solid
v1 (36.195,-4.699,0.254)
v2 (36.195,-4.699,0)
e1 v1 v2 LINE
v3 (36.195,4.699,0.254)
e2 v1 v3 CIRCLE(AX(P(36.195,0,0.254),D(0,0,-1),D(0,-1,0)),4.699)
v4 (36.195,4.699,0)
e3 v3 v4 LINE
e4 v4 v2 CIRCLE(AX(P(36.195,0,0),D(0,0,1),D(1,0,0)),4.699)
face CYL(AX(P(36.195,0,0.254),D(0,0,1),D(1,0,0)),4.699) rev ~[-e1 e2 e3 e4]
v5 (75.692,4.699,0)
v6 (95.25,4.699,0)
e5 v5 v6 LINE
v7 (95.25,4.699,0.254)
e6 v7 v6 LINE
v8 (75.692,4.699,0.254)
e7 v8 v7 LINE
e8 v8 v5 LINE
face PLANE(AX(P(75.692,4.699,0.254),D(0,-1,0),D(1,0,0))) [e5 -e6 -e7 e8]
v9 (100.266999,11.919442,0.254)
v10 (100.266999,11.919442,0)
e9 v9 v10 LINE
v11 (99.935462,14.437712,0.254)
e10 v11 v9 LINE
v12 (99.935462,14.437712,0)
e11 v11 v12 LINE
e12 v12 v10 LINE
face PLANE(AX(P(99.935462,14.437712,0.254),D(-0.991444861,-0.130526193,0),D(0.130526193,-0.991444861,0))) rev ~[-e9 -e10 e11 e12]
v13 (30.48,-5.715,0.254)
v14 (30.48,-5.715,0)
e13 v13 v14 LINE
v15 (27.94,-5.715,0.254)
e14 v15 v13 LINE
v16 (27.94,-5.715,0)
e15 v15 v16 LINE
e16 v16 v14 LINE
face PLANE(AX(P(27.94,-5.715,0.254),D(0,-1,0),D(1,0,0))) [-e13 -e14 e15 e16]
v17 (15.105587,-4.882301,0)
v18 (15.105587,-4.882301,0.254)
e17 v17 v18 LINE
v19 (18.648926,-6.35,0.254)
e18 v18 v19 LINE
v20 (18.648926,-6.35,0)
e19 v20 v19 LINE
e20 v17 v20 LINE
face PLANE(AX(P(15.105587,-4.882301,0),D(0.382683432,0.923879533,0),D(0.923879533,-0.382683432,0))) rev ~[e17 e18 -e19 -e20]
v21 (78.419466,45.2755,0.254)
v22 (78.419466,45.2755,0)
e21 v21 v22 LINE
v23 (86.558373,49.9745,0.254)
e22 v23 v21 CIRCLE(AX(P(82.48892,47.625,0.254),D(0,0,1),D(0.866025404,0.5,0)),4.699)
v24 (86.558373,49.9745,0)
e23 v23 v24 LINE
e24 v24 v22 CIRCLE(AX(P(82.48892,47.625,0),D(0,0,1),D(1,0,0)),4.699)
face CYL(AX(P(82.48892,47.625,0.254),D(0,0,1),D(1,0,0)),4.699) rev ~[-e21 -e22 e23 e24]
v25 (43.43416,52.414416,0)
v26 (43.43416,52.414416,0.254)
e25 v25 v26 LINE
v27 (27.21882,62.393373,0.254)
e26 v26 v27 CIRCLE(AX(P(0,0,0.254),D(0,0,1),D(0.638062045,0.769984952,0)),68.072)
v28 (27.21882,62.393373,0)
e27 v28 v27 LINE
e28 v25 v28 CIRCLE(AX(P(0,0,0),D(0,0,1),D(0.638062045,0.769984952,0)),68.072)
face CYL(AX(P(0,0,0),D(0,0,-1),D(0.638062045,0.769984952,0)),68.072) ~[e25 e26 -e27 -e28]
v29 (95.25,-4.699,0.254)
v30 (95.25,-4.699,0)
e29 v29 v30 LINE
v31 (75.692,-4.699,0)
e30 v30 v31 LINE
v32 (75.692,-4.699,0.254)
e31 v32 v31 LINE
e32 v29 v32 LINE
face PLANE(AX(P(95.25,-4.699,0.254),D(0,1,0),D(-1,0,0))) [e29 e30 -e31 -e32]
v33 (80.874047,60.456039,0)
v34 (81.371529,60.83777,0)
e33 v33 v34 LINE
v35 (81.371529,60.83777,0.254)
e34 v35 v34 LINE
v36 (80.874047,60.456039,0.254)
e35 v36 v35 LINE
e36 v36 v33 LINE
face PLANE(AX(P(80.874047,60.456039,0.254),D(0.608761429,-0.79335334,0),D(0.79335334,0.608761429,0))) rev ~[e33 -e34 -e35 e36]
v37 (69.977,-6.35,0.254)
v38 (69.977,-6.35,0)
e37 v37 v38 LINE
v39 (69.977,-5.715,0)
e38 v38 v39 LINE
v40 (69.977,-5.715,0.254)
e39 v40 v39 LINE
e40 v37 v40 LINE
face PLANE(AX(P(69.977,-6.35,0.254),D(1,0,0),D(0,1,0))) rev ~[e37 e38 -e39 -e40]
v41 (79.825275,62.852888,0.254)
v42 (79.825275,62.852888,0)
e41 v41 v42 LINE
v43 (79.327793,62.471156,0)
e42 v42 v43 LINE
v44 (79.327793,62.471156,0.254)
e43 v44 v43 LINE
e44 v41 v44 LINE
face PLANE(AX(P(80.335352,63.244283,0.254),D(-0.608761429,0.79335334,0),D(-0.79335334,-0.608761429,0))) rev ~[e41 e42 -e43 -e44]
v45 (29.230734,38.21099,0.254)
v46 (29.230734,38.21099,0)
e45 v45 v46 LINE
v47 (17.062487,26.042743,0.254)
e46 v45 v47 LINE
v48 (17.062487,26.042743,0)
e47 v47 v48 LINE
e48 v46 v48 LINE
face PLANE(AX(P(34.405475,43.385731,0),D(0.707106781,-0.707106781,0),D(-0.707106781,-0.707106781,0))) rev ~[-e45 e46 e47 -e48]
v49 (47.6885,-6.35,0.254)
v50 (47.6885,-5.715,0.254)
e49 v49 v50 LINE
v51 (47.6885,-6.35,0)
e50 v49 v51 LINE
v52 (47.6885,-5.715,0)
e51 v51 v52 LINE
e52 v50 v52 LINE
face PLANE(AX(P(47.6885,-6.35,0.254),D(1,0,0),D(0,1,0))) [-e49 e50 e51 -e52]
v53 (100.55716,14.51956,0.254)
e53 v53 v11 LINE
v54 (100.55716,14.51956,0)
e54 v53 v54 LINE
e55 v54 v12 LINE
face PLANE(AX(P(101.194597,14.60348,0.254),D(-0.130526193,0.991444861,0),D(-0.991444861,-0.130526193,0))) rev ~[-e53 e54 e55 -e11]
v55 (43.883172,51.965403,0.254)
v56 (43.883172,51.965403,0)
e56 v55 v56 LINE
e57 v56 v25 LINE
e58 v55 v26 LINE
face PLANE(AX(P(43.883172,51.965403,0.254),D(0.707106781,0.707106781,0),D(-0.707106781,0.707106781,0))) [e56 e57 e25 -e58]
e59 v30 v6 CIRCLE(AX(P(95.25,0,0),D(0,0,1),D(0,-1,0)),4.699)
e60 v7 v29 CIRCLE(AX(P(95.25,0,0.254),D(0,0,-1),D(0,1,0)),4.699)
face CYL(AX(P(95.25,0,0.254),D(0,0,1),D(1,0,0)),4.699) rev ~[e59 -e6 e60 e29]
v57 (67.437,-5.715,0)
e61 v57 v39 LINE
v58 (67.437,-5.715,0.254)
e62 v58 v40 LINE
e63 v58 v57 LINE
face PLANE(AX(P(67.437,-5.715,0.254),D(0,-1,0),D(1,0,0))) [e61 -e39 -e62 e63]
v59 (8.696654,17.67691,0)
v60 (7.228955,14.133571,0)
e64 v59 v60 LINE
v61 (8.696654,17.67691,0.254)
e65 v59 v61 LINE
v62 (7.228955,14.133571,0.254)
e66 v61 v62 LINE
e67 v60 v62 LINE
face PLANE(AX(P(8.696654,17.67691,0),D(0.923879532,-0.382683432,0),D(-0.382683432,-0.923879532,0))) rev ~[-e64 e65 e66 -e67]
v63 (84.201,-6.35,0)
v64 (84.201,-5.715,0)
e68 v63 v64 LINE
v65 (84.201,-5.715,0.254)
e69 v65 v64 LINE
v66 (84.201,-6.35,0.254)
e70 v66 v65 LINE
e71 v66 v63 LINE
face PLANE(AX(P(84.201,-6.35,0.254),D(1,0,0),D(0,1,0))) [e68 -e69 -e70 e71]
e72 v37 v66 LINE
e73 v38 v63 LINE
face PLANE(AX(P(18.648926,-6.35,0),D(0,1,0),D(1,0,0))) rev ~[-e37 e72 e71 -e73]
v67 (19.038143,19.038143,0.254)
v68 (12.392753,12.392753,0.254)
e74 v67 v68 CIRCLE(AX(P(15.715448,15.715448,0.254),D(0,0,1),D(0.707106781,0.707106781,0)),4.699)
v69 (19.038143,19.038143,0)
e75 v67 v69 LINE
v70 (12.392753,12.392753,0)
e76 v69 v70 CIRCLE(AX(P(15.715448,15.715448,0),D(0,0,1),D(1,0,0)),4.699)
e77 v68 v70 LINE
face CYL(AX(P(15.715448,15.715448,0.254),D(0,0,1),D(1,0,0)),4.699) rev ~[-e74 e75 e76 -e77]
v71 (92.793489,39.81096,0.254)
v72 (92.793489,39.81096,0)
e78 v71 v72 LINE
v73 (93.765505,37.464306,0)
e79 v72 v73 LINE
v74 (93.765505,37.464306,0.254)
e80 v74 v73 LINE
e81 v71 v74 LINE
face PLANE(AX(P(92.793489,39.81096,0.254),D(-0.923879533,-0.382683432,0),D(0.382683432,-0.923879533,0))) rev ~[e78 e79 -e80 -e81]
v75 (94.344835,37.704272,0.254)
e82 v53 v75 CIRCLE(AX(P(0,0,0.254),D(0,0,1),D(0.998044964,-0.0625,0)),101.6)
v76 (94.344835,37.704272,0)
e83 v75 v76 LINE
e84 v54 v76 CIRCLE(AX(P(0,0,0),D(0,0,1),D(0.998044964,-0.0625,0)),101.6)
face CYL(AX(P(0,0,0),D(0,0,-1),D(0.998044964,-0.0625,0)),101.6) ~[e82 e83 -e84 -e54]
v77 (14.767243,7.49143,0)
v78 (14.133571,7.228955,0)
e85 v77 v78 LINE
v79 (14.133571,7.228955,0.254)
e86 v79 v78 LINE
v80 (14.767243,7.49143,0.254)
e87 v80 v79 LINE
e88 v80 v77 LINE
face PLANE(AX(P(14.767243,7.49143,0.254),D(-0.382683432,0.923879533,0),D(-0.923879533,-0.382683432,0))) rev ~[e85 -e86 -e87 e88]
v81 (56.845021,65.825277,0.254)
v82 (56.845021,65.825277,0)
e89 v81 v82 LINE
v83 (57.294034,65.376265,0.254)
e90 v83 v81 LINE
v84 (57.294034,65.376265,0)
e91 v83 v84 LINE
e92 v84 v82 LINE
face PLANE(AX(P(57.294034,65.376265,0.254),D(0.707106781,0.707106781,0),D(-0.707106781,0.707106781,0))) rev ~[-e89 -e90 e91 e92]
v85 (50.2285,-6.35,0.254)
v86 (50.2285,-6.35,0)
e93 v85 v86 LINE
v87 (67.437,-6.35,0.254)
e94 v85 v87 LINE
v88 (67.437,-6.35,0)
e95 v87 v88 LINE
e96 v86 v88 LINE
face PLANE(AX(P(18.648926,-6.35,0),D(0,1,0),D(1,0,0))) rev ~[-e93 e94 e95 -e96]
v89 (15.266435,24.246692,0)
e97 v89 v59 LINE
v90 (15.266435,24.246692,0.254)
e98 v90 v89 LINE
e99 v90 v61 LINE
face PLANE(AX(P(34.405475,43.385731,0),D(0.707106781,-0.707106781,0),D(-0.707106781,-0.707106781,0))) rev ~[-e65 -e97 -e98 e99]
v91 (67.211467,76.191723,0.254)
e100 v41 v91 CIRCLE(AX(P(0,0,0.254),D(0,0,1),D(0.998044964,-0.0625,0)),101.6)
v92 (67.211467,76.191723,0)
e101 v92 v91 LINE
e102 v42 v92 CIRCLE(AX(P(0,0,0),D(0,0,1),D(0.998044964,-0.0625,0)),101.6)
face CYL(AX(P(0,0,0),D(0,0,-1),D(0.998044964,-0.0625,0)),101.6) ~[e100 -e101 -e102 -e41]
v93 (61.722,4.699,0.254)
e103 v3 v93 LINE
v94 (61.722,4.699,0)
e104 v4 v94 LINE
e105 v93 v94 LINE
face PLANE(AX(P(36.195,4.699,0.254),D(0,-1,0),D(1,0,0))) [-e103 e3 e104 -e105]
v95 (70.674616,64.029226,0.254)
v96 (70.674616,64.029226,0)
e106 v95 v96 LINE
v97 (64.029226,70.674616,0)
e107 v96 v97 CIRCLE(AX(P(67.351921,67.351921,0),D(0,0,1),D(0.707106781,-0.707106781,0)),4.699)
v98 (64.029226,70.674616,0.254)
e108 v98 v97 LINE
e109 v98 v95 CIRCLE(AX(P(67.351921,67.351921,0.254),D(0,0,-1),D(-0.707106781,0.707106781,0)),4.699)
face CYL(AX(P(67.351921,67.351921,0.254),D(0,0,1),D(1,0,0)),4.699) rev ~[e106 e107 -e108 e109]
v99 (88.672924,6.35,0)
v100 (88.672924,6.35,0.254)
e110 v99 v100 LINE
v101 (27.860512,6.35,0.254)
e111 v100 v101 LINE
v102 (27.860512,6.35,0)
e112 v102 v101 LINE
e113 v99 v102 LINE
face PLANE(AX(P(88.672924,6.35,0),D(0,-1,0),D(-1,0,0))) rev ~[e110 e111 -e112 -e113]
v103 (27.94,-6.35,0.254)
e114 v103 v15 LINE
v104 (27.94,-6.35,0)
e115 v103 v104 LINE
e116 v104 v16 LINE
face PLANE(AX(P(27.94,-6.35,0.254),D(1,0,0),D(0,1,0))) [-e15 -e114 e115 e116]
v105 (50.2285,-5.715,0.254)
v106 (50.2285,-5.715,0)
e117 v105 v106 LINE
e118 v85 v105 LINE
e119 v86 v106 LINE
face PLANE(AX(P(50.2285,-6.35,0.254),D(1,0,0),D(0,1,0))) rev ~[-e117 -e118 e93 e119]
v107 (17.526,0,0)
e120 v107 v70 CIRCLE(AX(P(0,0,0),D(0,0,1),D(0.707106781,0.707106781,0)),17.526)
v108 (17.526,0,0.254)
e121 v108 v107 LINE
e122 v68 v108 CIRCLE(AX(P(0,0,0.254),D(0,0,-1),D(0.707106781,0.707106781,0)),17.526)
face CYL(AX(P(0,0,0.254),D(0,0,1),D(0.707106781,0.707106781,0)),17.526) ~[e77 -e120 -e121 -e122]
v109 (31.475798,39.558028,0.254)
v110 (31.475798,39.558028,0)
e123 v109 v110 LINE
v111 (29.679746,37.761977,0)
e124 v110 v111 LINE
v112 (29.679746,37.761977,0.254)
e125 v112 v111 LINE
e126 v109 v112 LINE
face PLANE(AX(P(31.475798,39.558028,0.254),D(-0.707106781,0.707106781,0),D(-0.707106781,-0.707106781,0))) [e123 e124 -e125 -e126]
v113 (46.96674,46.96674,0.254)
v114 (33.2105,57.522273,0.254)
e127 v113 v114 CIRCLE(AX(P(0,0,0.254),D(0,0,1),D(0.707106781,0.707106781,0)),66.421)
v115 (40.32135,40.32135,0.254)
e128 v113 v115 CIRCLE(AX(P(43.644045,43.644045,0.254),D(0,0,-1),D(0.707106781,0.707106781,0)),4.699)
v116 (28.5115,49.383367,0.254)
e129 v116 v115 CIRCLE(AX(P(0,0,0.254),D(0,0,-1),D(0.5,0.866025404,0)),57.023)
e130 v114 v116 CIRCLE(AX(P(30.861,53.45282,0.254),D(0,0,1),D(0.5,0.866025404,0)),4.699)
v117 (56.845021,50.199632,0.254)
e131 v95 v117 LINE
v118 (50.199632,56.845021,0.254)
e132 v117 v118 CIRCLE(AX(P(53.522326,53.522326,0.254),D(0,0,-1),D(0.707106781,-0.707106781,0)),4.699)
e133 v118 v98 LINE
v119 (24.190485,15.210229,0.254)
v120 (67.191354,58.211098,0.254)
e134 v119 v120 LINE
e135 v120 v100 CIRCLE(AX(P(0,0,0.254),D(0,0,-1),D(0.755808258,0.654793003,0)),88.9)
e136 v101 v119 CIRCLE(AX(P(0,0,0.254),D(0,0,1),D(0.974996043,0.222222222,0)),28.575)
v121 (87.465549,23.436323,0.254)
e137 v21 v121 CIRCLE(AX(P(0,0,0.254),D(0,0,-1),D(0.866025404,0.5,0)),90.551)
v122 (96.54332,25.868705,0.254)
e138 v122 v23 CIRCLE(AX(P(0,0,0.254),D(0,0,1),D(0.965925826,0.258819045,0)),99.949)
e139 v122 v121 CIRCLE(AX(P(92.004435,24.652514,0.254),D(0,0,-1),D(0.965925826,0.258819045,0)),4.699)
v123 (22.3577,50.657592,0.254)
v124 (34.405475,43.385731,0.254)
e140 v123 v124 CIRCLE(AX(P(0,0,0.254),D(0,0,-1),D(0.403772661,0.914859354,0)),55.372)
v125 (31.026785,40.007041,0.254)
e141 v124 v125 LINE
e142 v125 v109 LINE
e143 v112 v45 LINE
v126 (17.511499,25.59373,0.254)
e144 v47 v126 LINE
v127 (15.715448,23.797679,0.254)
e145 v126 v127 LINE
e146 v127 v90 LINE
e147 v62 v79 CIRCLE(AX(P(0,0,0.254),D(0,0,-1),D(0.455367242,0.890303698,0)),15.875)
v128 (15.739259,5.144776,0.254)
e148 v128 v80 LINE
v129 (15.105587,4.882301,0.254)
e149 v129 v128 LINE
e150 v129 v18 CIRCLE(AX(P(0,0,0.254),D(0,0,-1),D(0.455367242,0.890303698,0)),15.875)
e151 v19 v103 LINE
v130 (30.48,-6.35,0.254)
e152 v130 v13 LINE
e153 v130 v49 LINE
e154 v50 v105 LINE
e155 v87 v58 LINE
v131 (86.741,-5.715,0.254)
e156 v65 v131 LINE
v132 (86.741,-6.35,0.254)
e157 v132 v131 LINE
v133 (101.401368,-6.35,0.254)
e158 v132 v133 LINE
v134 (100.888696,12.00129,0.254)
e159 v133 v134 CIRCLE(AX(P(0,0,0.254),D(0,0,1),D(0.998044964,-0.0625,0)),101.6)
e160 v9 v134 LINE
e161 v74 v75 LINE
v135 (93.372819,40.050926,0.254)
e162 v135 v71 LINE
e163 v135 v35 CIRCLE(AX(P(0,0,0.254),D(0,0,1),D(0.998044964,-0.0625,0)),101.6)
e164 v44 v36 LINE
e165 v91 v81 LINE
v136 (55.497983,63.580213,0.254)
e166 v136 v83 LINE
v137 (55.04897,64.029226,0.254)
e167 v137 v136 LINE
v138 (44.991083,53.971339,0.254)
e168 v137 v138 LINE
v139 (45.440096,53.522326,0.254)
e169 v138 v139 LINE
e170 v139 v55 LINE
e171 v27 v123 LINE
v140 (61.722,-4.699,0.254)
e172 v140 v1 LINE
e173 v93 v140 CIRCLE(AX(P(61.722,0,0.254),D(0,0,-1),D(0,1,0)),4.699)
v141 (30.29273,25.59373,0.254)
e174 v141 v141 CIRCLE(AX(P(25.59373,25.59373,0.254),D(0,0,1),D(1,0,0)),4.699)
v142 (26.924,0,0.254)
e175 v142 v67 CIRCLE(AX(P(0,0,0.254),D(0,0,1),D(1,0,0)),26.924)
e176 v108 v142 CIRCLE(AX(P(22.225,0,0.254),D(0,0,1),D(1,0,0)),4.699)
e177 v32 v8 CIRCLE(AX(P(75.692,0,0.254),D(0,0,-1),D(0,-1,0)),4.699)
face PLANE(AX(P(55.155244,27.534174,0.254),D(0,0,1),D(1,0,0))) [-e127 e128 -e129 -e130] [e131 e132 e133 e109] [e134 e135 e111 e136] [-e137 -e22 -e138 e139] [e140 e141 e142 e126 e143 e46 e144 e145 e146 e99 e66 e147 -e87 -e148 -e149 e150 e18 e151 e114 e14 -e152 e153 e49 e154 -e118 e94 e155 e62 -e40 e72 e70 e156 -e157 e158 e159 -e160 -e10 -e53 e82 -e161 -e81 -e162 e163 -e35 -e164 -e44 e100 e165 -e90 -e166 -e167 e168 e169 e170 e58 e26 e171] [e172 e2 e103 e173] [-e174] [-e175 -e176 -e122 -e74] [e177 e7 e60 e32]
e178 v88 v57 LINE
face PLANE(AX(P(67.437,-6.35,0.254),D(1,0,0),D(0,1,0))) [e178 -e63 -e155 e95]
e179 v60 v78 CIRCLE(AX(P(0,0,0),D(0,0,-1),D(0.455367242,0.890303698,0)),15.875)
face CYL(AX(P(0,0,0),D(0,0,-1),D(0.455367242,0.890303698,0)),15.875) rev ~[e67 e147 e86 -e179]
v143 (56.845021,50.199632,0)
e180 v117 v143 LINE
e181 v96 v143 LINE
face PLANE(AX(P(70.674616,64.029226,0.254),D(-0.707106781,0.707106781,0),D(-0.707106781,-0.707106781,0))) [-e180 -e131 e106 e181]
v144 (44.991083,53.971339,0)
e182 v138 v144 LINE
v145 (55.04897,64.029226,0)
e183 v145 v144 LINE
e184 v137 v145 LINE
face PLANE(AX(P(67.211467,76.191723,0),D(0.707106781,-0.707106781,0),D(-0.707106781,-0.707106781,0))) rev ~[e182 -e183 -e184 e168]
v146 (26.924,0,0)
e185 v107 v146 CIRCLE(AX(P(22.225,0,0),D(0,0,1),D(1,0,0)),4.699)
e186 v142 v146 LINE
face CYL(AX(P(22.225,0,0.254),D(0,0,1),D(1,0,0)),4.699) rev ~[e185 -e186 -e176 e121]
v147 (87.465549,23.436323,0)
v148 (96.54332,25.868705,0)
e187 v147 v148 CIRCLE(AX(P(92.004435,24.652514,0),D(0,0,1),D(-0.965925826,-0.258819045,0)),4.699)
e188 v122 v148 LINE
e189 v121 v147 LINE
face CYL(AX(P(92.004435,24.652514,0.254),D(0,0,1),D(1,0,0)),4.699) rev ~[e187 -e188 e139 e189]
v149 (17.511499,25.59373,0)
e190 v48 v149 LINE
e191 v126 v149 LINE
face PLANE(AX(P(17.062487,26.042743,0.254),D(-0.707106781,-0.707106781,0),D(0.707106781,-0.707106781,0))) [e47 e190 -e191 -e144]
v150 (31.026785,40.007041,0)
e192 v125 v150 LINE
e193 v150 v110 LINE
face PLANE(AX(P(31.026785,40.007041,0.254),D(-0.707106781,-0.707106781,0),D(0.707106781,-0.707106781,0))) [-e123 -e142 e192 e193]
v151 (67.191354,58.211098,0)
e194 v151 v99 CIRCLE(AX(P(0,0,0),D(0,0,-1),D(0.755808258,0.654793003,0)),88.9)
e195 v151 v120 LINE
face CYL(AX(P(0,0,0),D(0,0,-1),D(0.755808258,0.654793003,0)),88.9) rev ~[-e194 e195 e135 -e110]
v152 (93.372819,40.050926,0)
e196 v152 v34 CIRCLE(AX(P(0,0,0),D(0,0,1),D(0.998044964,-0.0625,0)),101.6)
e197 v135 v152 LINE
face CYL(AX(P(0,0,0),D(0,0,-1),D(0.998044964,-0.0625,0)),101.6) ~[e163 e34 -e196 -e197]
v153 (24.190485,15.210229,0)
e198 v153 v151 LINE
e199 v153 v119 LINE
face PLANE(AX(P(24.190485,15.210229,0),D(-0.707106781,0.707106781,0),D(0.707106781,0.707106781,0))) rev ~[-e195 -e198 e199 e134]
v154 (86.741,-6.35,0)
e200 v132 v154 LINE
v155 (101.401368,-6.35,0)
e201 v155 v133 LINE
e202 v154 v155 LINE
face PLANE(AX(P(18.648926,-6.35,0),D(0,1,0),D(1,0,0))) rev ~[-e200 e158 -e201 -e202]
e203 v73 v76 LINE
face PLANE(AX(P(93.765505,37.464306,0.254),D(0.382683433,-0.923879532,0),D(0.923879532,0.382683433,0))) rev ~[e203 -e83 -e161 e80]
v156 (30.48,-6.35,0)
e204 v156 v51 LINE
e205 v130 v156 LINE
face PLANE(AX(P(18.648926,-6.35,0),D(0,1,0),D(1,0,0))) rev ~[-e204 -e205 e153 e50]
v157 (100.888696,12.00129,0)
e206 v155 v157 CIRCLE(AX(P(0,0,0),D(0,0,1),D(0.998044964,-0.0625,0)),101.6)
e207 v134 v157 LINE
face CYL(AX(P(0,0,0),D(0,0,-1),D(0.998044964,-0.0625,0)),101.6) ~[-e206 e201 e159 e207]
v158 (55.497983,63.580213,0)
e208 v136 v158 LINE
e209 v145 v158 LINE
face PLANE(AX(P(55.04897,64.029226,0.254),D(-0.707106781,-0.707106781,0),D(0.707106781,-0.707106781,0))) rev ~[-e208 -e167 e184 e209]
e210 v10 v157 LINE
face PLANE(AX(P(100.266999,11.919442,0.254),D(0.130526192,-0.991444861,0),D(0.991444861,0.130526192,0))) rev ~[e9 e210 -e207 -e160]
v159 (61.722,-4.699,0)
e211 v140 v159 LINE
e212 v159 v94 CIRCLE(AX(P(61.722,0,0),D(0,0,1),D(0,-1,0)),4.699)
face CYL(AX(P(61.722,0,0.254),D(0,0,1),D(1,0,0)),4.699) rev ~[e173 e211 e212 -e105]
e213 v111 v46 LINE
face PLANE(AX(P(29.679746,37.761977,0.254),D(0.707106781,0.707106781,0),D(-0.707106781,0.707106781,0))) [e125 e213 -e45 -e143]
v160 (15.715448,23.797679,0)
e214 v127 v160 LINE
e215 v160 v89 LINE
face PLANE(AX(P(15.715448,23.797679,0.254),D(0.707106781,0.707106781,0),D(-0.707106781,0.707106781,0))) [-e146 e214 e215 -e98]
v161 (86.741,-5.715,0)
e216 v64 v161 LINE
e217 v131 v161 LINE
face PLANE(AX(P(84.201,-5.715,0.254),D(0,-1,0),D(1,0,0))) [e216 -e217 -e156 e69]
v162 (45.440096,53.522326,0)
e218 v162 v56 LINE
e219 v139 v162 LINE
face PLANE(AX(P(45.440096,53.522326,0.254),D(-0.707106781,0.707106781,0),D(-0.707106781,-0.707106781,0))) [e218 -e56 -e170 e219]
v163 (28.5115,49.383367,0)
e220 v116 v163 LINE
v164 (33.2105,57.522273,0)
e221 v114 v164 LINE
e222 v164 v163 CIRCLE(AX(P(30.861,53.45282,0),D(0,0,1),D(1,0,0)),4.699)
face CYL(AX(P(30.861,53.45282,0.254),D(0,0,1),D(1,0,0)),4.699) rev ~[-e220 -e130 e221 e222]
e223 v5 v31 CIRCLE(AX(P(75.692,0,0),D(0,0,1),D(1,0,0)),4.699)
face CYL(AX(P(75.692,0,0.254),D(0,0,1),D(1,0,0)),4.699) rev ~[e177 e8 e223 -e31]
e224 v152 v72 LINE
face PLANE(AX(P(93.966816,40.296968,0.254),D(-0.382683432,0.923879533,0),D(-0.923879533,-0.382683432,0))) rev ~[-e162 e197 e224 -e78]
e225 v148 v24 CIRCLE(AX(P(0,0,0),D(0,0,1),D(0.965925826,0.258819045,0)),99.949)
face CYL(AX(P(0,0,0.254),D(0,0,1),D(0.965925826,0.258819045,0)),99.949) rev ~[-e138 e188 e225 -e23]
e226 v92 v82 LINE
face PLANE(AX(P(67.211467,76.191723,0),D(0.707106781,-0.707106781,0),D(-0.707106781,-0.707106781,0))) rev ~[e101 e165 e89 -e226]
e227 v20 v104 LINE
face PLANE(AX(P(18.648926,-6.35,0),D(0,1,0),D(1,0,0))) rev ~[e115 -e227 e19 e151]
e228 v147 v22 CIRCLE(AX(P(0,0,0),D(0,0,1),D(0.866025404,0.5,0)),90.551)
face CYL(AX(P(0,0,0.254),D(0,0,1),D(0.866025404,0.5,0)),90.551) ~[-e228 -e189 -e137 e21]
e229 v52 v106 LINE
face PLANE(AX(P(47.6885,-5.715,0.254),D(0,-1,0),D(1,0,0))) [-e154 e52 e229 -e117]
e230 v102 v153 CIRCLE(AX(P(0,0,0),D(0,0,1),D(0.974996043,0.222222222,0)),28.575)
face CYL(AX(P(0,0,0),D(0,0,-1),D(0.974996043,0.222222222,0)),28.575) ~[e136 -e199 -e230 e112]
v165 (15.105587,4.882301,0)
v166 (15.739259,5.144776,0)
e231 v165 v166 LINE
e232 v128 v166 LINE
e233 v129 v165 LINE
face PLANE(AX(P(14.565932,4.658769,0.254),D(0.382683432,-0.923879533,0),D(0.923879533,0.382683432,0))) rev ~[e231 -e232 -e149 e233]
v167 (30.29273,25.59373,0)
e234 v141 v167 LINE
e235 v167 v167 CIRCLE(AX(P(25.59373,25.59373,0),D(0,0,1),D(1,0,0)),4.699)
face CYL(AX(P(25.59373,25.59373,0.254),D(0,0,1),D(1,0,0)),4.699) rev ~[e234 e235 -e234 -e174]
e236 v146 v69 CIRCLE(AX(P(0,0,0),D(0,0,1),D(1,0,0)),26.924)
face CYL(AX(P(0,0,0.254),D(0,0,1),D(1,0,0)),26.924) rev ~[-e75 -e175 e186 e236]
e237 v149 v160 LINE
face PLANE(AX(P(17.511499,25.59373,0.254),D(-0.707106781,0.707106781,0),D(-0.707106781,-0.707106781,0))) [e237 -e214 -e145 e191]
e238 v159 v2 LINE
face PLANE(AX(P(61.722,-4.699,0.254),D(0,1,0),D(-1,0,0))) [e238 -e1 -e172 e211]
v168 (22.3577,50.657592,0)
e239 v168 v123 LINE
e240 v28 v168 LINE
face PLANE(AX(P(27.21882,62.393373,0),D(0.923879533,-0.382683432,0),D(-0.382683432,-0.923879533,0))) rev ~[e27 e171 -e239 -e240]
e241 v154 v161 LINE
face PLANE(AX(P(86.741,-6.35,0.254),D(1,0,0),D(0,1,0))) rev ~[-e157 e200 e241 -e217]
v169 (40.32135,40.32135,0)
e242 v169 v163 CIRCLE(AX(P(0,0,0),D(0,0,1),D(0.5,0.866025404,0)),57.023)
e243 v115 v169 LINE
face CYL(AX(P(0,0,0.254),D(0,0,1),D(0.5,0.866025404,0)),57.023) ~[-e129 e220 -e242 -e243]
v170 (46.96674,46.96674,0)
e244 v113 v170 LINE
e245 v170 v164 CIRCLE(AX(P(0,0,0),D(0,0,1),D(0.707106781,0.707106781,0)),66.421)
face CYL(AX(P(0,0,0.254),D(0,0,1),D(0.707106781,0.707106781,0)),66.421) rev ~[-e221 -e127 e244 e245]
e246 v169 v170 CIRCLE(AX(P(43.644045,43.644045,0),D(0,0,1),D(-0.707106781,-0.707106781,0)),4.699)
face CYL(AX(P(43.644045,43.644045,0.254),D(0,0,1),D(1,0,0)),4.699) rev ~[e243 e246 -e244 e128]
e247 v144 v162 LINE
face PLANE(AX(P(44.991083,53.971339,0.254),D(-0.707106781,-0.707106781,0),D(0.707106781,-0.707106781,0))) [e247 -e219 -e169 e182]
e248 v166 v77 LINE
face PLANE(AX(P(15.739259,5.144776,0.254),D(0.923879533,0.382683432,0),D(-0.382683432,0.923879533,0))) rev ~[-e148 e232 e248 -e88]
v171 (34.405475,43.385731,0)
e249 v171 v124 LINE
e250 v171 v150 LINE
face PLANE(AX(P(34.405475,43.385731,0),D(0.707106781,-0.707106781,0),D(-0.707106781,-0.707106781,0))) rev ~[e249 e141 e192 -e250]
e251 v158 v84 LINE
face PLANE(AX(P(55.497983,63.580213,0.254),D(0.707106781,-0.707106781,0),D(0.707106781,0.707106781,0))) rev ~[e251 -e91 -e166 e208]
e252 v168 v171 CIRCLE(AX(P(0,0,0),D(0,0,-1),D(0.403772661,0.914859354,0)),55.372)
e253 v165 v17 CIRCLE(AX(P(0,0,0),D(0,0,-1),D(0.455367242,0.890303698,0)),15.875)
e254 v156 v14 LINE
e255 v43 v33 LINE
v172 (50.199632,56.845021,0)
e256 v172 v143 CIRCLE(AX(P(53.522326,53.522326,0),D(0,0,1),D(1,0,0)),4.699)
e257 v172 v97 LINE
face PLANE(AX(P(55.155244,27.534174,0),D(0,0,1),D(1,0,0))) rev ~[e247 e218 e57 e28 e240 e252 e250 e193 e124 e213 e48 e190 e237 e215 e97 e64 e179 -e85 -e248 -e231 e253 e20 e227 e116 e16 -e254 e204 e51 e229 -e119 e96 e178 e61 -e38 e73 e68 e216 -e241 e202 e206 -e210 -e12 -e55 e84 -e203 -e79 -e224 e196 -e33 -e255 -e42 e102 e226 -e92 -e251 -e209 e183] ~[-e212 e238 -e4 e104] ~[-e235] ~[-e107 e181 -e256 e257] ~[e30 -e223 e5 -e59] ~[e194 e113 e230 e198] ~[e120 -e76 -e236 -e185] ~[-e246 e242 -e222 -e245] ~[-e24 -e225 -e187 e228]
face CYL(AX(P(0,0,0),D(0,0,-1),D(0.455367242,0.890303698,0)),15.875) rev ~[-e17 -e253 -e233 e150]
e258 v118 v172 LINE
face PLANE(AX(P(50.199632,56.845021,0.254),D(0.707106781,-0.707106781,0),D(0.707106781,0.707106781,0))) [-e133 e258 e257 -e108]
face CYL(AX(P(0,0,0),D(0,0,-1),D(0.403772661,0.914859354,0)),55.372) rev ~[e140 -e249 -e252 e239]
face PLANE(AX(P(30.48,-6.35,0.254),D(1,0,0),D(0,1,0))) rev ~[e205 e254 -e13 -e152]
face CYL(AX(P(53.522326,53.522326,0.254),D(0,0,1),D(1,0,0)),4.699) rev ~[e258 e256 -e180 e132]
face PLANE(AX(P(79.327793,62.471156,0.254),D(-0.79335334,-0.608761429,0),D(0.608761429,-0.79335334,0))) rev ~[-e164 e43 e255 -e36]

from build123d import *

# Parameters (mm, degrees)
BOSS_EXTRUDE1_DEPTH = 0.254
SKETCH2_R           = 4.699
CUT_EXTRUDE1_DEPTH  = 1.254
SKETCH3_W           = 2.54
SKETCH3_H           = 0.635
CUT_EXTRUDE2_DEPTH  = 1.254
CUT_EXTRUDE3_DEPTH  = 1.254


with BuildPart() as part:
    # Sketch1 → Boss-Extrude1 (new body)
    with BuildSketch(Plane.XY):
        with BuildLine():
            Line((27.218819563, 62.393373411), (22.357699804, 50.65759216))
            ThreePointArc((22.357699804, 50.65759216), (28.61353693, 47.405947816), (34.405475059, 43.38573118))
            Line((34.405475059, 43.38573118), (8.696654013, 17.676910134))
            Line((8.696654013, 17.676910134), (7.228954972, 14.133571205))
            ThreePointArc((7.228954972, 14.133571205), (14.666587579, 6.075099489), (15.105587123, -4.88230096))
            Line((15.105587123, -4.88230096), (18.648926052, -6.35))
            Line((18.648926052, -6.35), (101.401368334, -6.35))
            ThreePointArc((101.401368334, -6.35), (93.866160503, 38.880636728), (67.21146711, 76.191723231))
            Line((67.21146711, 76.191723231), (43.43415954, 52.414415661))
            ThreePointArc((43.43415954, 52.414415661), (35.677104191, 57.973626939), (27.218819563, 62.393373411))
        make_face()
        with BuildLine():
            Line((88.672924278, 6.35), (27.86051193, 6.35))
            ThreePointArc((27.86051193, 6.35), (26.399857642, 10.93517908), (24.190484974, 15.210228852))
            Line((24.190484974, 15.210228852), (67.191354125, 58.211098004))
            ThreePointArc((67.191354125, 58.211098004), (82.13289044, 34.020557137), (88.672924278, 6.35))
        make_face(mode=Mode.SUBTRACT)
    extrude(amount=BOSS_EXTRUDE1_DEPTH)

    # Sketch2 → Cut-Extrude1 (cut, through all)
    with BuildSketch(Plane.XY.offset(0.254)):
        with Locations((22.225, 0)):
            Circle(SKETCH2_R)
        with Locations((36.195, 0)):
            Circle(SKETCH2_R)
        with Locations((61.722, 0)):
            Circle(SKETCH2_R)
        with Locations((75.692, 0)):
            Circle(SKETCH2_R)
        with Locations((95.25, 0)):
            Circle(SKETCH2_R)
        with Locations((15.715448212, 15.715448212)):
            Circle(SKETCH2_R)
        with Locations((25.593729945, 25.593729945)):
            Circle(SKETCH2_R)
        with Locations((43.644044748, 43.644044748)):
            Circle(SKETCH2_R)
        with Locations((53.522326482, 53.522326482)):
            Circle(SKETCH2_R)
        with Locations((92.004434954, 24.652514046)):
            Circle(SKETCH2_R)
        with Locations((82.48891971, 47.625)):
            Circle(SKETCH2_R)
        with Locations((67.351920908, 67.351920908)):
            Circle(SKETCH2_R)
        with Locations((30.861, 53.452819972)):
            Circle(SKETCH2_R)
    extrude(amount=-CUT_EXTRUDE1_DEPTH, mode=Mode.SUBTRACT)

    # Sketch3 → Cut-Extrude2 (cut, through all)
    with BuildSketch(Plane.XY.offset(0.254)):
        Polygon((15.266435406, 24.246691527), (17.06248663, 26.042742751), (17.511499436, 25.593729945), (15.715448212, 23.797678721), align=None)
        Polygon((43.43415954, 52.414415661), (44.991083167, 53.971339288), (45.440095973, 53.522326482), (43.883172346, 51.965402855), align=None)
        with Locations((29.21, -6.0325)):
            Rectangle(SKETCH3_W, SKETCH3_H)
        with Locations((68.707, -6.0325)):
            Rectangle(SKETCH3_W, SKETCH3_H)
        Polygon((29.230733674, 38.210989795), (31.026784898, 40.007041019), (31.475797704, 39.558028213), (29.67974648, 37.761976989), align=None)
        Polygon((56.845021246, 65.825277367), (55.048970022, 64.029226143), (55.497982828, 63.580213337), (57.294034052, 65.376264561), align=None)
        with Locations((48.9585, -6.0325)):
            Rectangle(SKETCH3_W, SKETCH3_H)
        with Locations((85.471, -6.0325)):
            Rectangle(SKETCH3_W, SKETCH3_H)
        Polygon((99.935462164, 14.437711971), (100.266998693, 11.919442024), (101.526133667, 12.085210288), (101.194597138, 14.603480236), align=None)
        Polygon((93.765504959, 37.464305742), (94.938831965, 37.950313702), (93.966816047, 40.296967714), (92.793489041, 39.810959755), align=None)
        Polygon((79.327792988, 62.471156422), (80.874047017, 60.456038938), (81.88160576, 61.229165953), (80.33535173, 63.244283437), align=None)
        Polygon((13.593916116, 7.005422516), (14.565932035, 4.658768503), (15.739259041, 5.144776462), (14.767243123, 7.491430475), align=None)
    extrude(amount=-CUT_EXTRUDE2_DEPTH, mode=Mode.SUBTRACT)

    # Sketch7 → Cut-Extrude3 (cut, through all)
    with BuildSketch(Plane.XY.offset(0.254)):
        with BuildLine():
            Line((36.195, 4.699), (61.722, 4.699))
            ThreePointArc((61.722, 4.699), (66.421, 0), (61.722, -4.699))
            Line((61.722, -4.699), (36.195, -4.699))
            ThreePointArc((36.195, -4.699), (31.496, 0), (36.195, 4.699))
        make_face()
        with BuildLine():
            Line((75.692, 4.699), (95.25, 4.699))
            ThreePointArc((95.25, 4.699), (99.949, 0), (95.25, -4.699))
            Line((95.25, -4.699), (75.692, -4.699))
            ThreePointArc((75.692, -4.699), (70.993, 0), (75.692, 4.699))
        make_face()
        with BuildLine():
            Line((50.199631717, 56.845021246), (64.029226143, 70.674615673))
            ThreePointArc((64.029226143, 70.674615673), (70.674615673, 70.674615673), (70.674615673, 64.029226143))
            Line((70.674615673, 64.029226143), (56.845021246, 50.199631717))
            ThreePointArc((56.845021246, 50.199631717), (50.199631717, 50.199631717), (50.199631717, 56.845021246))
        make_face()
        with BuildLine():
            ThreePointArc((46.966739513, 46.966739513), (40.434542876, 52.695322215), (33.2105, 57.522273345))
            ThreePointArc((33.2105, 57.522273345), (26.791546628, 55.802319972), (28.5115, 49.3833666))
            ThreePointArc((28.5115, 49.3833666), (34.713402966, 45.239387523), (40.321349984, 40.321349984))
            ThreePointArc((40.321349984, 40.321349984), (46.966739513, 40.321349984), (46.966739513, 46.966739513))
        make_face()
        with BuildLine():
            ThreePointArc((26.924, 0), (24.874532533, 10.303368733), (19.038142977, 19.038142977))
            ThreePointArc((19.038142977, 19.038142977), (12.392753447, 19.038142977), (12.392753447, 12.392753447))
            ThreePointArc((12.392753447, 12.392753447), (16.191912687, 6.706909836), (17.526, 0))
            ThreePointArc((17.526, 0), (22.225, -4.699), (26.924, 0))
        make_face()
        with BuildLine():
            ThreePointArc((96.543320412, 25.868704739), (92.340835395, 38.248826381), (86.558373083, 49.9745))
            ThreePointArc((86.558373083, 49.9745), (80.13941971, 51.694453372), (78.419466338, 45.2755))
            ThreePointArc((78.419466338, 45.2755), (83.658215548, 34.652367484), (87.465549496, 23.436323353))
            ThreePointArc((87.465549496, 23.436323353), (93.220625647, 20.113628588), (96.543320412, 25.868704739))
        make_face()
    extrude(amount=-CUT_EXTRUDE3_DEPTH, mode=Mode.SUBTRACT)


solid = part.part
